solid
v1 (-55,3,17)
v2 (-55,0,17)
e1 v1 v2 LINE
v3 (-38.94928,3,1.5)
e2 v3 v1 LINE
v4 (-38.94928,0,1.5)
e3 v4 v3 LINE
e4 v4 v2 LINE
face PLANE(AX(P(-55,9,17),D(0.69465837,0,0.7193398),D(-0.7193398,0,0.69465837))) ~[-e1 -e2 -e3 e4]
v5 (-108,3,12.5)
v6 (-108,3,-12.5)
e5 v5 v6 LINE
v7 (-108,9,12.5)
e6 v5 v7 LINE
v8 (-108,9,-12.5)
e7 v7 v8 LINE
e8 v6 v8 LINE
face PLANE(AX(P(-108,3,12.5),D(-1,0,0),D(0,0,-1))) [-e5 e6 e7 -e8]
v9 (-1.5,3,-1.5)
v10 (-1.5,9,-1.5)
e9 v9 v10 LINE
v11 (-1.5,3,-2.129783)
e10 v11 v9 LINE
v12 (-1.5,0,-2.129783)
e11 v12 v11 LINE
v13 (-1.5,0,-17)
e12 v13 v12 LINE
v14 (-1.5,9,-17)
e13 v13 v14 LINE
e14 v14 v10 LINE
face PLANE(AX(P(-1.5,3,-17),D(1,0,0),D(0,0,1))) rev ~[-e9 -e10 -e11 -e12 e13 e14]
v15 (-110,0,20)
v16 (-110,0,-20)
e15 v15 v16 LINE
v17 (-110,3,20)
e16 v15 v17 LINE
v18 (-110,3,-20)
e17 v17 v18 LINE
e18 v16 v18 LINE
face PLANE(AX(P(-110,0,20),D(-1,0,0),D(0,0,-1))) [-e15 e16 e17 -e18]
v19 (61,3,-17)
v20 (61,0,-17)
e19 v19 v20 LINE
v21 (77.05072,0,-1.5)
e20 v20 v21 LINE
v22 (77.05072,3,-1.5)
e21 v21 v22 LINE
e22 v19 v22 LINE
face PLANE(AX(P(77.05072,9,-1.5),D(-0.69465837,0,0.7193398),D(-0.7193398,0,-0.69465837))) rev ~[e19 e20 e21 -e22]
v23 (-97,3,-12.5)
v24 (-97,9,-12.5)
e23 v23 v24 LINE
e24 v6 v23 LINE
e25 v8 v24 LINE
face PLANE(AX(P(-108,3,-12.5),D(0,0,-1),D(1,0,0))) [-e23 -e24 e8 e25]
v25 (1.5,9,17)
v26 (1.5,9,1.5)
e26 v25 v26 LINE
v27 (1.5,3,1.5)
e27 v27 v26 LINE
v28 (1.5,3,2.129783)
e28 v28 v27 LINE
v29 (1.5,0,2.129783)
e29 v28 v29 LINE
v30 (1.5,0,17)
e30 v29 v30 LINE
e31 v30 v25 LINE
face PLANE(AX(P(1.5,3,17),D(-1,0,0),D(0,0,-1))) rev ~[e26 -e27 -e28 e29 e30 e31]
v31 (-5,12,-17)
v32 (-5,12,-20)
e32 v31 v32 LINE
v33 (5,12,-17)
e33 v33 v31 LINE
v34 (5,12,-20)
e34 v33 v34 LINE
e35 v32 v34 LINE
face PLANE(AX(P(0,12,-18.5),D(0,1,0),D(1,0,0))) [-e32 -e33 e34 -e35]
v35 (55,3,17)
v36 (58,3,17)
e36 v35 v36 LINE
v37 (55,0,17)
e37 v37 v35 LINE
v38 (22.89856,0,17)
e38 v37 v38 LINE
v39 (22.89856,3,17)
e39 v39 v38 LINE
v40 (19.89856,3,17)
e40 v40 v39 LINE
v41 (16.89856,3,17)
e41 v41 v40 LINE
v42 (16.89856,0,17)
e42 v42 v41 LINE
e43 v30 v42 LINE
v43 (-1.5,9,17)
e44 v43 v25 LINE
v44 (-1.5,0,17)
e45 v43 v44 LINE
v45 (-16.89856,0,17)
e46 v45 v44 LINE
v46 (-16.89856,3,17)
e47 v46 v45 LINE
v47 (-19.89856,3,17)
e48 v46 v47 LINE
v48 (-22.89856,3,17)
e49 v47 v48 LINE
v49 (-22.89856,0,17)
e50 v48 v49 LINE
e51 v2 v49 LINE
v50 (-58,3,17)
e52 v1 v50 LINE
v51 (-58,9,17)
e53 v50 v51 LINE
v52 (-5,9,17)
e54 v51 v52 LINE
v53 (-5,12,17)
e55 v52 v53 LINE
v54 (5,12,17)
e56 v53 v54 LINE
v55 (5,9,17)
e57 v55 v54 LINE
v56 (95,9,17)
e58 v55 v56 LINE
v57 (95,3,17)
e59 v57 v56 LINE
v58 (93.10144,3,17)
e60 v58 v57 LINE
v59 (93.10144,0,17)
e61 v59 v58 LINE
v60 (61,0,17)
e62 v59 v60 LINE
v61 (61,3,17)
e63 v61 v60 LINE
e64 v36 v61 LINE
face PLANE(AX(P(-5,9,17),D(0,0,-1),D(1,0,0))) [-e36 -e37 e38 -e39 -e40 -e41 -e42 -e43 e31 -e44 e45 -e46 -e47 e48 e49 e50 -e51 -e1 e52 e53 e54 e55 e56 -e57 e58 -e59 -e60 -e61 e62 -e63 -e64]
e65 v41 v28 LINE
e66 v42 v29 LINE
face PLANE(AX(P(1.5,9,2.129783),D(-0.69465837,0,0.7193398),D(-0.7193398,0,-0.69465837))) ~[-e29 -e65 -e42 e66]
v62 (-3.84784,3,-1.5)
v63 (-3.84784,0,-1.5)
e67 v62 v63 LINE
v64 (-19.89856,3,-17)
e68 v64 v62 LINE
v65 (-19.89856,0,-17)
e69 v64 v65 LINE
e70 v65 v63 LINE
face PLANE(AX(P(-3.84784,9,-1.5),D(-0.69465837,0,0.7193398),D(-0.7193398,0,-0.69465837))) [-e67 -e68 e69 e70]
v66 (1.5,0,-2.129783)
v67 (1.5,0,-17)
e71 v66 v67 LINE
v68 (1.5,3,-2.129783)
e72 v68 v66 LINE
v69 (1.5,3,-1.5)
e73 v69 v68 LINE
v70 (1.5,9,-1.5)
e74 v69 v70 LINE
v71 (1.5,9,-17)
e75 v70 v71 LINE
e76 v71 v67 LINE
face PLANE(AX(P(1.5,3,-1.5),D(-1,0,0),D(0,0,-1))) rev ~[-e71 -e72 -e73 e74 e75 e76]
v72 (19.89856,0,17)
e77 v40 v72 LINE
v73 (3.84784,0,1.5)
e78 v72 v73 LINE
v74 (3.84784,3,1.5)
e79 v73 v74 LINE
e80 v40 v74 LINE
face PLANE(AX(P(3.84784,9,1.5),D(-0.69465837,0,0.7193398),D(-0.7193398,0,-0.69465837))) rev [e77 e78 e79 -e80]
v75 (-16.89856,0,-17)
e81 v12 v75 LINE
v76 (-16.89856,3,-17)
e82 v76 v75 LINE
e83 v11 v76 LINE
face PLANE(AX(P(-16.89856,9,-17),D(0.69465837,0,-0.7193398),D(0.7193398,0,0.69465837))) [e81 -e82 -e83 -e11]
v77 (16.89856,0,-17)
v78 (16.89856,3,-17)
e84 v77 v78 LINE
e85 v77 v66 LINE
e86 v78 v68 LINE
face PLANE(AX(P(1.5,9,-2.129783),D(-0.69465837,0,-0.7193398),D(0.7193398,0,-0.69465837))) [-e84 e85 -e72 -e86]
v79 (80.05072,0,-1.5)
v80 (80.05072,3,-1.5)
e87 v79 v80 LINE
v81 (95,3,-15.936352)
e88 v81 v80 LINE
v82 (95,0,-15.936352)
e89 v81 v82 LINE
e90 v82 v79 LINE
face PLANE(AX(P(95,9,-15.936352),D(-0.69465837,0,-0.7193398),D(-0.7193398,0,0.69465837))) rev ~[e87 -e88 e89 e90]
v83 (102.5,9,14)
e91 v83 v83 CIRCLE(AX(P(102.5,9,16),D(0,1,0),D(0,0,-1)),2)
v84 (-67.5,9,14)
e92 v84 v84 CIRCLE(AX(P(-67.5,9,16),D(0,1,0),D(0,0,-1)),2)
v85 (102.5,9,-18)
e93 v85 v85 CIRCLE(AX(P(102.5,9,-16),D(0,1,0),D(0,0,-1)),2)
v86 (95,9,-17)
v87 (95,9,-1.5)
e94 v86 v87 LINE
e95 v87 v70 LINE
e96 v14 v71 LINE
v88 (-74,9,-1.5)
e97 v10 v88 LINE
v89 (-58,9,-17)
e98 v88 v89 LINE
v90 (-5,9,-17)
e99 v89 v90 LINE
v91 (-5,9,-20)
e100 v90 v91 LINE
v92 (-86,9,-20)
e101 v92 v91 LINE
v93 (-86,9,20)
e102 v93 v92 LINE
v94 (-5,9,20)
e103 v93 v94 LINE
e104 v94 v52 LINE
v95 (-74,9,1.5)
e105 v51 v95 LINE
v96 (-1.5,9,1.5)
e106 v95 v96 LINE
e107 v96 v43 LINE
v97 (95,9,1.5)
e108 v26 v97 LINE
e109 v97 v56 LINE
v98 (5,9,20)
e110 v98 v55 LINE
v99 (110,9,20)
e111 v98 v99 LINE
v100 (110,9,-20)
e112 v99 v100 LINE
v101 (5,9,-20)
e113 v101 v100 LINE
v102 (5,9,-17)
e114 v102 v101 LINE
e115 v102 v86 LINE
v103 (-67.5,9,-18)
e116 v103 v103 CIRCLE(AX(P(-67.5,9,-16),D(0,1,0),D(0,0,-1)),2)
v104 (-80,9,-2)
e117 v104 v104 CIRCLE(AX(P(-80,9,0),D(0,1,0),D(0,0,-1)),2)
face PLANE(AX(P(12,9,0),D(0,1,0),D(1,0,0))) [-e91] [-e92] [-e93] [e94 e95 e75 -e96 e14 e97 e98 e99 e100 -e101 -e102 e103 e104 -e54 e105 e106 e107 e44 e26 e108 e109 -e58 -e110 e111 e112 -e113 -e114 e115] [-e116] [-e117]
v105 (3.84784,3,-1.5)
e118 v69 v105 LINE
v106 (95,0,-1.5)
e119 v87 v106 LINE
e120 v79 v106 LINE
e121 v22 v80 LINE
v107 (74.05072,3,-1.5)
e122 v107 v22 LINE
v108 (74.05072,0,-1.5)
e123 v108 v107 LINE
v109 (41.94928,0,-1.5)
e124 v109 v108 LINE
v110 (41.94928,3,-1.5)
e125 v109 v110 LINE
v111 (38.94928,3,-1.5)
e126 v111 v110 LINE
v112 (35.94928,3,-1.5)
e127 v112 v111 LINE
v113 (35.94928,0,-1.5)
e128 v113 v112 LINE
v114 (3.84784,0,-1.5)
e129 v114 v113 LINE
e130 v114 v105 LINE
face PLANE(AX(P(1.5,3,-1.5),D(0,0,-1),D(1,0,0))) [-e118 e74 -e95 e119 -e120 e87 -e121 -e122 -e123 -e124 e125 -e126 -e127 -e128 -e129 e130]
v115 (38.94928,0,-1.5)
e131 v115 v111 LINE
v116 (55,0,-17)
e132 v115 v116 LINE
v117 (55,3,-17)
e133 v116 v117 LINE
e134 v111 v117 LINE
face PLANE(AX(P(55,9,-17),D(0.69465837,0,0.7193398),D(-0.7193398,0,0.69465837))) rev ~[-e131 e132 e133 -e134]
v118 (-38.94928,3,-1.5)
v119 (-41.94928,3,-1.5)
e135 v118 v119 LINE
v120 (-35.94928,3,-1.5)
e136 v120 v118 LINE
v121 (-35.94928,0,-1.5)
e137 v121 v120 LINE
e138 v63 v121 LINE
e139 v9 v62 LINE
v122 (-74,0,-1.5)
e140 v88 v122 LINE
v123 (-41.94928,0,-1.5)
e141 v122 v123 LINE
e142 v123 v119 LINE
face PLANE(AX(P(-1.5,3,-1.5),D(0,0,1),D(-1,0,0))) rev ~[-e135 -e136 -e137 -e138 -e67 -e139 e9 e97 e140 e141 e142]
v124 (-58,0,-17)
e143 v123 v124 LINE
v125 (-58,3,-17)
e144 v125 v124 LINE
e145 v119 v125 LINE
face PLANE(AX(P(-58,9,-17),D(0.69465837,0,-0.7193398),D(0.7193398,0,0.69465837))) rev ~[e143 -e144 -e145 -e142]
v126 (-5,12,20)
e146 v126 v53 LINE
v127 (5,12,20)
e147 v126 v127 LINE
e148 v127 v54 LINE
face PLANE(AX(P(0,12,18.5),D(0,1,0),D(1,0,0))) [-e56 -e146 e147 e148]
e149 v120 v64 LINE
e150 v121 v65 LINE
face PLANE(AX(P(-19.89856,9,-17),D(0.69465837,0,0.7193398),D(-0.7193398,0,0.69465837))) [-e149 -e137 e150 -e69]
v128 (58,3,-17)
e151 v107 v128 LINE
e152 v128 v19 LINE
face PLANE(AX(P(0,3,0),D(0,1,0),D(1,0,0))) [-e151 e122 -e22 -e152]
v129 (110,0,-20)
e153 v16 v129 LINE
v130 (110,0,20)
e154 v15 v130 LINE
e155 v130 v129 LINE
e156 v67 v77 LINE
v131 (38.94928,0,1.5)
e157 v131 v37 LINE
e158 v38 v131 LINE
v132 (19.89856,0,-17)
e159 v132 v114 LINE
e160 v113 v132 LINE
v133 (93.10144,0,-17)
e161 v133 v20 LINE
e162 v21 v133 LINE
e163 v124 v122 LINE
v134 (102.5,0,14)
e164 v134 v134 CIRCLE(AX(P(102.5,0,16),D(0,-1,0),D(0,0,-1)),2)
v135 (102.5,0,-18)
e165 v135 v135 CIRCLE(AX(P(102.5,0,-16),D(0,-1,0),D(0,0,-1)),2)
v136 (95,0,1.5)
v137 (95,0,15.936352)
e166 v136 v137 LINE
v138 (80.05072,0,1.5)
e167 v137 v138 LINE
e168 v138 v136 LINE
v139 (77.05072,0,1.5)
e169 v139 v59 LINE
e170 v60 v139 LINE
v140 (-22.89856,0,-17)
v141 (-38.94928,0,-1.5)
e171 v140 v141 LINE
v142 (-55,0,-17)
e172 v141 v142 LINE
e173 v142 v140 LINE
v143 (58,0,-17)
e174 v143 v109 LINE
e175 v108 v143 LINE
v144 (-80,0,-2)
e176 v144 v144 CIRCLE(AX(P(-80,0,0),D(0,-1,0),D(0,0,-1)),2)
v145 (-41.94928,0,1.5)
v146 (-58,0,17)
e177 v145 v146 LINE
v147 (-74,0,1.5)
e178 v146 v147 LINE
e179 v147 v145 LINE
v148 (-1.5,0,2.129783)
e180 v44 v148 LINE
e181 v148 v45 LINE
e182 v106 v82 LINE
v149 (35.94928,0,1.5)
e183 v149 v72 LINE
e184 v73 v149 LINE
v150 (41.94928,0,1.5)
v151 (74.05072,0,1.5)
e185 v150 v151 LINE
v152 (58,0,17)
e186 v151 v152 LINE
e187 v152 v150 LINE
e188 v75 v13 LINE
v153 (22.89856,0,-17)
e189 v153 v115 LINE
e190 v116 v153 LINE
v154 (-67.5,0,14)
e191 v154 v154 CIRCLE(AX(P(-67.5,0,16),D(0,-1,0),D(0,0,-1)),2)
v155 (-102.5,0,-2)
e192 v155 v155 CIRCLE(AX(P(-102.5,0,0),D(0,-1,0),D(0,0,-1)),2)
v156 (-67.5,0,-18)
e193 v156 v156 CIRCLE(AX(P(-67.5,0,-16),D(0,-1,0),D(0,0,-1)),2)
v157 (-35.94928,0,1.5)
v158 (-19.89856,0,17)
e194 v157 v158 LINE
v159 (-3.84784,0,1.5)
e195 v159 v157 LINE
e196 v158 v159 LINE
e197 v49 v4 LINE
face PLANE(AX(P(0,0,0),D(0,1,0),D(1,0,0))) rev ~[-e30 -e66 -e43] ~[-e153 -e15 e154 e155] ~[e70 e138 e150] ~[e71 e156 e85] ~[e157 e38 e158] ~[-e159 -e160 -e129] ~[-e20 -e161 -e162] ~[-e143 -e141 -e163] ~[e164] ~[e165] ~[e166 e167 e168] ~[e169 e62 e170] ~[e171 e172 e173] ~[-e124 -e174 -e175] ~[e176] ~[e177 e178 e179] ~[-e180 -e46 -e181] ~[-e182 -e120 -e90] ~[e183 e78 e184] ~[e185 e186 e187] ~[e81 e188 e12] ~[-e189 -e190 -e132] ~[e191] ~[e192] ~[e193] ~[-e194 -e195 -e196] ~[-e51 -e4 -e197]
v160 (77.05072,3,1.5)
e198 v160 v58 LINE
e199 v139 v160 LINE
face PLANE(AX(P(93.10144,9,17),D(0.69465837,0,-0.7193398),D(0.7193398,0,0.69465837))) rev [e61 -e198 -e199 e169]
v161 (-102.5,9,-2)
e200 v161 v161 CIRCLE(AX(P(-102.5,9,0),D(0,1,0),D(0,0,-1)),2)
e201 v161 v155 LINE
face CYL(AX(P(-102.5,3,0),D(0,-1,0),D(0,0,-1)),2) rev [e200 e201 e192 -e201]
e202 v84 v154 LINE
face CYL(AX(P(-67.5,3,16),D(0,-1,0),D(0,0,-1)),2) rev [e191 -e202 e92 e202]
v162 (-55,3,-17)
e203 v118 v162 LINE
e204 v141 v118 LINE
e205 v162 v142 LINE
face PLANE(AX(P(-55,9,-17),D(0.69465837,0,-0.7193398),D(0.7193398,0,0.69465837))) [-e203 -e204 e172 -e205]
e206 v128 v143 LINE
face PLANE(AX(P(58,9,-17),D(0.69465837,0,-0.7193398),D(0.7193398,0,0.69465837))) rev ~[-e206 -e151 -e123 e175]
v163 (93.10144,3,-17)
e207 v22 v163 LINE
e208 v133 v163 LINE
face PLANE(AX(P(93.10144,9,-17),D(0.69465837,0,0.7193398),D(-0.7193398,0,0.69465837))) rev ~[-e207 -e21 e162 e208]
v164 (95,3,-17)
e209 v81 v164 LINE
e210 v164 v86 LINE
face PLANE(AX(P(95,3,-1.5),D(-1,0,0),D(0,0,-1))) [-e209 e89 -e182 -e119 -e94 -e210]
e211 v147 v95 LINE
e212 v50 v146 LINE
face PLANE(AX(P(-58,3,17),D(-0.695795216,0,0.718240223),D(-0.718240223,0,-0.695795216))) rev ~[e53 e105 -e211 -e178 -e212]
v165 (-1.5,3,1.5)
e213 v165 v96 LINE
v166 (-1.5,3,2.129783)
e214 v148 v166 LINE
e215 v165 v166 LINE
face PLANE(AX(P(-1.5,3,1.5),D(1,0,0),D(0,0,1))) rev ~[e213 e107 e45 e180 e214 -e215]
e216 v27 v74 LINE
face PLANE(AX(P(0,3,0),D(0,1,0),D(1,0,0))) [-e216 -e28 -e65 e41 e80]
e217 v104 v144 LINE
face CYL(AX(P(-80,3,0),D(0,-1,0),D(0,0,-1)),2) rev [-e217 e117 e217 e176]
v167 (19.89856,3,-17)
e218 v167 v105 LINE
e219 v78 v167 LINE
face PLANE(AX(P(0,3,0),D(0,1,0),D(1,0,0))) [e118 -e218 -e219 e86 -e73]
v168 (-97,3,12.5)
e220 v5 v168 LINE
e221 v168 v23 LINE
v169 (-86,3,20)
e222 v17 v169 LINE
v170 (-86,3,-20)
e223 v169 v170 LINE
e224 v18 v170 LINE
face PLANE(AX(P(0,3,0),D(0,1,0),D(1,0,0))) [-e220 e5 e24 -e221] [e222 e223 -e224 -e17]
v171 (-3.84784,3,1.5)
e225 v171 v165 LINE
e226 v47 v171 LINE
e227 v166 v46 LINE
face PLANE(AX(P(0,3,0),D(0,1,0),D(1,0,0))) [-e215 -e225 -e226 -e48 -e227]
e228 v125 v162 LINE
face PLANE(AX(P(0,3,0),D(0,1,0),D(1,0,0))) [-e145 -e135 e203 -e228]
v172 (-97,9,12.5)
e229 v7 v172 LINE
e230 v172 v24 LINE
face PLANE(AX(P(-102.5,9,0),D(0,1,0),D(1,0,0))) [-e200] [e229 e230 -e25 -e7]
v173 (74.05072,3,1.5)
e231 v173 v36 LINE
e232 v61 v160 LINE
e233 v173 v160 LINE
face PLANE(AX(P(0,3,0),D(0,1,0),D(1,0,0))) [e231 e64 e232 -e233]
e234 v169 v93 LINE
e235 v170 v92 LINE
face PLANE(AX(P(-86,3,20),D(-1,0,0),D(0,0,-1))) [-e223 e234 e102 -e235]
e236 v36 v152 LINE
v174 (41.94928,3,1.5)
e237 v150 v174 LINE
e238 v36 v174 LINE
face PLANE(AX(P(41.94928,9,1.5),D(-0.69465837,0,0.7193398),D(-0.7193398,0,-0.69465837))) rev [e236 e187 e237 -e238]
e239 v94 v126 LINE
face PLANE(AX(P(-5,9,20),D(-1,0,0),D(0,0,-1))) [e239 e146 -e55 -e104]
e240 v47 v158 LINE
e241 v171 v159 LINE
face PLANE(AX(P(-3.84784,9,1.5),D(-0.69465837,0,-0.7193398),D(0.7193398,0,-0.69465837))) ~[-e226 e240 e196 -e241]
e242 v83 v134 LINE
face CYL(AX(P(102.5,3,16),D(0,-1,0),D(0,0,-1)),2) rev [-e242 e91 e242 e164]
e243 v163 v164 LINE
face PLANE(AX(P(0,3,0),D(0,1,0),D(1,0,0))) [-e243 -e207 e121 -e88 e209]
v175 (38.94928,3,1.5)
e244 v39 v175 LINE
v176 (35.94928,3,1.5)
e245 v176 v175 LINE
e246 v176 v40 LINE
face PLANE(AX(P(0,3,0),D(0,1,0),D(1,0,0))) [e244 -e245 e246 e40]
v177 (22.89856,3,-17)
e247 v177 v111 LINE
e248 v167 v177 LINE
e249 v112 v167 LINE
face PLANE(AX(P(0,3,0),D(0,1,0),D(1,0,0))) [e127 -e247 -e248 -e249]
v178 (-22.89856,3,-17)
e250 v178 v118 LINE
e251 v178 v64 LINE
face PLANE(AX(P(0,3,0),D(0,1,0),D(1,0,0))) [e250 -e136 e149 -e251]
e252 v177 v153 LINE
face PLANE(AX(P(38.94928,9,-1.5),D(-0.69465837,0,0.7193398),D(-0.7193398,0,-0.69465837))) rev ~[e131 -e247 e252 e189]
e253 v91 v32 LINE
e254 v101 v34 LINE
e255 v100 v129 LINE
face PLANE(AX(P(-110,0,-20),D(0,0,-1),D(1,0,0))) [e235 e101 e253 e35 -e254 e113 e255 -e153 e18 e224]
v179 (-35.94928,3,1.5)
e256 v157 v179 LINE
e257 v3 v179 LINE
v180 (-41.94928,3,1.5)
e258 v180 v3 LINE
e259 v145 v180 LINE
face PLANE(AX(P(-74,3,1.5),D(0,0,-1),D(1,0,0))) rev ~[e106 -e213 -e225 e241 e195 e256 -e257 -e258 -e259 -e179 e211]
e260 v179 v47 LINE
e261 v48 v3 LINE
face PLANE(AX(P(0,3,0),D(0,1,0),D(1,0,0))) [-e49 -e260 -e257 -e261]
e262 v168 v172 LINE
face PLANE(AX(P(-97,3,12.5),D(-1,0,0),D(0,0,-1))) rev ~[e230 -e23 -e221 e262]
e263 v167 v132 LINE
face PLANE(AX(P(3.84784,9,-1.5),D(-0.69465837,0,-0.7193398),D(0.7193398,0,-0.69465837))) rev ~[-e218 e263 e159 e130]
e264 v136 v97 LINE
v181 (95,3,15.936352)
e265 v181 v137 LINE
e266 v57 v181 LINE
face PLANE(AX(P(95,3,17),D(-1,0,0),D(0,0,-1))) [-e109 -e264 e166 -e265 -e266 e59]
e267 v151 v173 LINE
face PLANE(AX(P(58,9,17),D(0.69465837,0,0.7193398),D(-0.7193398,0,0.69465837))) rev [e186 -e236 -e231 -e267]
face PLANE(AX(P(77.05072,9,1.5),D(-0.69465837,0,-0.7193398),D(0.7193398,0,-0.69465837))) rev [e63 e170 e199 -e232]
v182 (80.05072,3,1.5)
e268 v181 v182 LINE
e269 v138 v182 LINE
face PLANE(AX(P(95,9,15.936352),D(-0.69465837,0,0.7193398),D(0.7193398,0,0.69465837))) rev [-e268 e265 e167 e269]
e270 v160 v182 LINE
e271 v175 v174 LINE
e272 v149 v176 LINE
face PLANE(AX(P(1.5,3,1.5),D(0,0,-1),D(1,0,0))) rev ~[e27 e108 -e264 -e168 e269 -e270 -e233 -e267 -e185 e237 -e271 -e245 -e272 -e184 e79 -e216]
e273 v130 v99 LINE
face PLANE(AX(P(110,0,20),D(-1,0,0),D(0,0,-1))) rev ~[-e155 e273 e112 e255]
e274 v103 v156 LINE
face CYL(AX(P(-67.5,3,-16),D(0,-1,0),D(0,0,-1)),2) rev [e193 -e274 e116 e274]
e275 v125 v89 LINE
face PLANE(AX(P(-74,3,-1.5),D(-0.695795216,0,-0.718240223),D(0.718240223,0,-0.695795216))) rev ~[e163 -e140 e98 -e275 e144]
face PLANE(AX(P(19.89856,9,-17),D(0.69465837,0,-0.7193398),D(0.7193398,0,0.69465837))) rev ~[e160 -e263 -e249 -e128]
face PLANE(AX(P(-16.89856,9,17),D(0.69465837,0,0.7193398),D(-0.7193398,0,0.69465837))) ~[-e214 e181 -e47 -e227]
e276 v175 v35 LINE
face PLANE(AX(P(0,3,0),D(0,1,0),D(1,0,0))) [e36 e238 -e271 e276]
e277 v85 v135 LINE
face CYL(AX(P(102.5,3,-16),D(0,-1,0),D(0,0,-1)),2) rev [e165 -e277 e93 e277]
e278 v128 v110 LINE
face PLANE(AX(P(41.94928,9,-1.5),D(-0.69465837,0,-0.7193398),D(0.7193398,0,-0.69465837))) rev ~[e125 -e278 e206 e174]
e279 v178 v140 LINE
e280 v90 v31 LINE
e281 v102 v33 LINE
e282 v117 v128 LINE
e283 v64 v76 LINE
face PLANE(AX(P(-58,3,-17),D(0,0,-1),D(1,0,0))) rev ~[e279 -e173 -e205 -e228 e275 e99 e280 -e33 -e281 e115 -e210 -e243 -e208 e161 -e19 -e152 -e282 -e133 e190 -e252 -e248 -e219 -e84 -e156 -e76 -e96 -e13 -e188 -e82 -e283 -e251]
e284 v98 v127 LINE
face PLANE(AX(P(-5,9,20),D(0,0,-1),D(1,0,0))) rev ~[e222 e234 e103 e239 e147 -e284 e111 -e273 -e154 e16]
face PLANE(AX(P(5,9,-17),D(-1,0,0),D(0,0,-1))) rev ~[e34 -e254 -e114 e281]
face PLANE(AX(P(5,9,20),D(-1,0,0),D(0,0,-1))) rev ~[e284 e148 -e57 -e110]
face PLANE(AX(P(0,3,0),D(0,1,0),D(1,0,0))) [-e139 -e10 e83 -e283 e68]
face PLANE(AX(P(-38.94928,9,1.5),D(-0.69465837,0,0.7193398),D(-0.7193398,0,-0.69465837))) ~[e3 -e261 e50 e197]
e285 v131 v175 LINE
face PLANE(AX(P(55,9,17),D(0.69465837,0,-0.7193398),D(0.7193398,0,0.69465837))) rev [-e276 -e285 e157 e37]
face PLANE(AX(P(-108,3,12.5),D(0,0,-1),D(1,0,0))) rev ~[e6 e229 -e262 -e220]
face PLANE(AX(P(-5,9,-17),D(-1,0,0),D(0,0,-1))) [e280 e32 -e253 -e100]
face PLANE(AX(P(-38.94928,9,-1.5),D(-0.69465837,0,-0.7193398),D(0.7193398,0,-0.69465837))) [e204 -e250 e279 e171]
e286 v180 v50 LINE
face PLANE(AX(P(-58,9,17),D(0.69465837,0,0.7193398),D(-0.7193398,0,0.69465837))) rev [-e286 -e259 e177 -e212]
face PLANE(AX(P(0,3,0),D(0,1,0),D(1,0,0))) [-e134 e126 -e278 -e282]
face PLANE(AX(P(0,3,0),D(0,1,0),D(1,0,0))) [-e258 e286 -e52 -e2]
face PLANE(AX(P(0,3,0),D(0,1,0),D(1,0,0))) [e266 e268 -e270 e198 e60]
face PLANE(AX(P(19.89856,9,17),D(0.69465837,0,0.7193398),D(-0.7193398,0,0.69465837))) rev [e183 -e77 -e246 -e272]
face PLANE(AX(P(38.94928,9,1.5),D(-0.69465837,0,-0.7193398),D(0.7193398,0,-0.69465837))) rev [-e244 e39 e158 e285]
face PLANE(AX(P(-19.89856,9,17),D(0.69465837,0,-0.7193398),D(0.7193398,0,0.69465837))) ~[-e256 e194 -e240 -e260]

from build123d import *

# Parameters (mm, degrees)
BASESKETCH_W          = 220
BASESKETCH_H          = 40
BASE_DEPTH            = 3
HOLESSKETCH_R         = 2
HOLES_DEPTH           = 112.843640856
SUPPORTSKETCH_W       = 11
SUPPORTSKETCH_H       = 25
SUPPORTSKETCH_R       = 2
SUPPORTSKETCH_W_2     = 196
SUPPORTSKETCH_H_2     = 40
SUPPORTSKETCH_W_3     = 93.5
SUPPORTSKETCH_H_3     = 15.5
SUPPORT_DEPTH         = 6
CONNECTORSKETCH_W     = 10
CONNECTORSKETCH_H     = 3
CONNECTOR_DEPTH       = 3
WEIGHTREDUCTION_DEPTH = 113.165056947


with BuildPart() as part:
    # BaseSketch → Base (new body)
    with BuildSketch(Plane(origin=(0, 0, 0), x_dir=(1, 0, 0), z_dir=(0, 1, 0))):
        Rectangle(BASESKETCH_W, BASESKETCH_H)
    extrude(amount=BASE_DEPTH)

    # HolesSketch → Holes (cut, through all)
    with BuildSketch(Plane.XZ):
        with Locations(Location((-102.5, 0, 0), (0, 0, 270))):
            Circle(HOLESSKETCH_R)
        with Locations(Location((-80, 0, 0), (0, 0, 270))):
            Circle(HOLESSKETCH_R)
        with Locations(Location((-67.5, 16, 0), (0, 0, 270))):
            Circle(HOLESSKETCH_R)
        with Locations(Location((-67.5, -16, 0), (0, 0, 270))):
            Circle(HOLESSKETCH_R)
        with Locations(Location((102.5, -16, 0), (0, 0, 270))):
            Circle(HOLESSKETCH_R)
        with Locations(Location((102.5, 16, 0), (0, 0, 270))):
            Circle(HOLESSKETCH_R)
    extrude(amount=-HOLES_DEPTH, mode=Mode.SUBTRACT)

    # SupportSketch → Support (add)
    with BuildSketch(Plane(origin=(0, 3, 0), x_dir=(1, 0, 0), z_dir=(0, 1, 0))):
        with Locations((-102.5, 0)):
            Rectangle(SUPPORTSKETCH_W, SUPPORTSKETCH_H)
        with Locations(Location((-102.5, 0, 0), (0, 0, 90))):
            Circle(SUPPORTSKETCH_R, mode=Mode.SUBTRACT)
        with Locations((12, 0)):
            Rectangle(SUPPORTSKETCH_W_2, SUPPORTSKETCH_H_2)
        with Locations(Location((-67.5, -16, 0), (0, 0, 90))):
            Circle(SUPPORTSKETCH_R, mode=Mode.SUBTRACT)
        Polygon((-1.5, -1.5), (-1.5, -17), (-58, -17), (-74, -1.5), align=None, mode=Mode.SUBTRACT)
        with Locations(Location((102.5, -16, 0), (0, 0, 90))):
            Circle(SUPPORTSKETCH_R, mode=Mode.SUBTRACT)
        with Locations((48.25, -9.25)):
            Rectangle(SUPPORTSKETCH_W_3, SUPPORTSKETCH_H_3, mode=Mode.SUBTRACT)
        with Locations(Location((-80, 0, 0), (0, 0, 90))):
            Circle(SUPPORTSKETCH_R, mode=Mode.SUBTRACT)
        Polygon((-58, 17), (-1.5, 17), (-1.5, 1.5), (-74, 1.5), align=None, mode=Mode.SUBTRACT)
        with Locations(Location((-67.5, 16, 0), (0, 0, 90))):
            Circle(SUPPORTSKETCH_R, mode=Mode.SUBTRACT)
        with Locations((48.25, 9.25)):
            Rectangle(SUPPORTSKETCH_W_3, SUPPORTSKETCH_H_3, mode=Mode.SUBTRACT)
        with Locations(Location((102.5, 16, 0), (0, 0, 90))):
            Circle(SUPPORTSKETCH_R, mode=Mode.SUBTRACT)
    extrude(amount=SUPPORT_DEPTH)

    # ConnectorSketch → Connector (add)
    with BuildSketch(Plane(origin=(0, 9, 0), x_dir=(1, 0, 0), z_dir=(0, 1, 0))):
        with Locations((0, -18.5)):
            Rectangle(CONNECTORSKETCH_W, CONNECTORSKETCH_H)
        with Locations((0, 18.5)):
            Rectangle(CONNECTORSKETCH_W, CONNECTORSKETCH_H)
    extrude(amount=CONNECTOR_DEPTH)

    # WeightReductionSketch → WeightReduction (cut, symmetric)
    with BuildSketch(Plane(origin=(0, 9, 0), x_dir=(1, 0, 0), z_dir=(0, 1, 0))):
        Polygon((-74, 1.5), (-58, 17), (-41.949280136, 1.5), align=None)
        Polygon((-55, 17), (-38.949280136, 1.5), (-22.898560272, 17), align=None)
        Polygon((-19.898560272, 17), (-35.949280136, 1.5), (-3.847840409, 1.5), align=None)
        Polygon((-16.898560272, 17), (-1.5, 2.129783197), (-1.5, 17), align=None)
        Polygon((1.5, 2.129783197), (16.898560272, 17), (1.5, 17), align=None)
        Polygon((3.847840409, 1.5), (19.898560272, 17), (35.949280136, 1.5), align=None)
        Polygon((38.949280136, 1.5), (22.898560272, 17), (55, 17), align=None)
        Polygon((41.949280136, 1.5), (58, 17), (74.050719864, 1.5), align=None)
        Polygon((77.050719864, 1.5), (61, 17), (93.101439728, 17), align=None)
        Polygon((95, 15.936352019), (80.050719864, 1.5), (95, 1.5), align=None)
    weightreduction = extrude(amount=WEIGHTREDUCTION_DEPTH, both=True, mode=Mode.SUBTRACT)

    # WeightReductionMirror: WeightReduction across plane
    add(weightreduction.mirror(Plane.XY), mode=Mode.SUBTRACT)


solid = part.part
